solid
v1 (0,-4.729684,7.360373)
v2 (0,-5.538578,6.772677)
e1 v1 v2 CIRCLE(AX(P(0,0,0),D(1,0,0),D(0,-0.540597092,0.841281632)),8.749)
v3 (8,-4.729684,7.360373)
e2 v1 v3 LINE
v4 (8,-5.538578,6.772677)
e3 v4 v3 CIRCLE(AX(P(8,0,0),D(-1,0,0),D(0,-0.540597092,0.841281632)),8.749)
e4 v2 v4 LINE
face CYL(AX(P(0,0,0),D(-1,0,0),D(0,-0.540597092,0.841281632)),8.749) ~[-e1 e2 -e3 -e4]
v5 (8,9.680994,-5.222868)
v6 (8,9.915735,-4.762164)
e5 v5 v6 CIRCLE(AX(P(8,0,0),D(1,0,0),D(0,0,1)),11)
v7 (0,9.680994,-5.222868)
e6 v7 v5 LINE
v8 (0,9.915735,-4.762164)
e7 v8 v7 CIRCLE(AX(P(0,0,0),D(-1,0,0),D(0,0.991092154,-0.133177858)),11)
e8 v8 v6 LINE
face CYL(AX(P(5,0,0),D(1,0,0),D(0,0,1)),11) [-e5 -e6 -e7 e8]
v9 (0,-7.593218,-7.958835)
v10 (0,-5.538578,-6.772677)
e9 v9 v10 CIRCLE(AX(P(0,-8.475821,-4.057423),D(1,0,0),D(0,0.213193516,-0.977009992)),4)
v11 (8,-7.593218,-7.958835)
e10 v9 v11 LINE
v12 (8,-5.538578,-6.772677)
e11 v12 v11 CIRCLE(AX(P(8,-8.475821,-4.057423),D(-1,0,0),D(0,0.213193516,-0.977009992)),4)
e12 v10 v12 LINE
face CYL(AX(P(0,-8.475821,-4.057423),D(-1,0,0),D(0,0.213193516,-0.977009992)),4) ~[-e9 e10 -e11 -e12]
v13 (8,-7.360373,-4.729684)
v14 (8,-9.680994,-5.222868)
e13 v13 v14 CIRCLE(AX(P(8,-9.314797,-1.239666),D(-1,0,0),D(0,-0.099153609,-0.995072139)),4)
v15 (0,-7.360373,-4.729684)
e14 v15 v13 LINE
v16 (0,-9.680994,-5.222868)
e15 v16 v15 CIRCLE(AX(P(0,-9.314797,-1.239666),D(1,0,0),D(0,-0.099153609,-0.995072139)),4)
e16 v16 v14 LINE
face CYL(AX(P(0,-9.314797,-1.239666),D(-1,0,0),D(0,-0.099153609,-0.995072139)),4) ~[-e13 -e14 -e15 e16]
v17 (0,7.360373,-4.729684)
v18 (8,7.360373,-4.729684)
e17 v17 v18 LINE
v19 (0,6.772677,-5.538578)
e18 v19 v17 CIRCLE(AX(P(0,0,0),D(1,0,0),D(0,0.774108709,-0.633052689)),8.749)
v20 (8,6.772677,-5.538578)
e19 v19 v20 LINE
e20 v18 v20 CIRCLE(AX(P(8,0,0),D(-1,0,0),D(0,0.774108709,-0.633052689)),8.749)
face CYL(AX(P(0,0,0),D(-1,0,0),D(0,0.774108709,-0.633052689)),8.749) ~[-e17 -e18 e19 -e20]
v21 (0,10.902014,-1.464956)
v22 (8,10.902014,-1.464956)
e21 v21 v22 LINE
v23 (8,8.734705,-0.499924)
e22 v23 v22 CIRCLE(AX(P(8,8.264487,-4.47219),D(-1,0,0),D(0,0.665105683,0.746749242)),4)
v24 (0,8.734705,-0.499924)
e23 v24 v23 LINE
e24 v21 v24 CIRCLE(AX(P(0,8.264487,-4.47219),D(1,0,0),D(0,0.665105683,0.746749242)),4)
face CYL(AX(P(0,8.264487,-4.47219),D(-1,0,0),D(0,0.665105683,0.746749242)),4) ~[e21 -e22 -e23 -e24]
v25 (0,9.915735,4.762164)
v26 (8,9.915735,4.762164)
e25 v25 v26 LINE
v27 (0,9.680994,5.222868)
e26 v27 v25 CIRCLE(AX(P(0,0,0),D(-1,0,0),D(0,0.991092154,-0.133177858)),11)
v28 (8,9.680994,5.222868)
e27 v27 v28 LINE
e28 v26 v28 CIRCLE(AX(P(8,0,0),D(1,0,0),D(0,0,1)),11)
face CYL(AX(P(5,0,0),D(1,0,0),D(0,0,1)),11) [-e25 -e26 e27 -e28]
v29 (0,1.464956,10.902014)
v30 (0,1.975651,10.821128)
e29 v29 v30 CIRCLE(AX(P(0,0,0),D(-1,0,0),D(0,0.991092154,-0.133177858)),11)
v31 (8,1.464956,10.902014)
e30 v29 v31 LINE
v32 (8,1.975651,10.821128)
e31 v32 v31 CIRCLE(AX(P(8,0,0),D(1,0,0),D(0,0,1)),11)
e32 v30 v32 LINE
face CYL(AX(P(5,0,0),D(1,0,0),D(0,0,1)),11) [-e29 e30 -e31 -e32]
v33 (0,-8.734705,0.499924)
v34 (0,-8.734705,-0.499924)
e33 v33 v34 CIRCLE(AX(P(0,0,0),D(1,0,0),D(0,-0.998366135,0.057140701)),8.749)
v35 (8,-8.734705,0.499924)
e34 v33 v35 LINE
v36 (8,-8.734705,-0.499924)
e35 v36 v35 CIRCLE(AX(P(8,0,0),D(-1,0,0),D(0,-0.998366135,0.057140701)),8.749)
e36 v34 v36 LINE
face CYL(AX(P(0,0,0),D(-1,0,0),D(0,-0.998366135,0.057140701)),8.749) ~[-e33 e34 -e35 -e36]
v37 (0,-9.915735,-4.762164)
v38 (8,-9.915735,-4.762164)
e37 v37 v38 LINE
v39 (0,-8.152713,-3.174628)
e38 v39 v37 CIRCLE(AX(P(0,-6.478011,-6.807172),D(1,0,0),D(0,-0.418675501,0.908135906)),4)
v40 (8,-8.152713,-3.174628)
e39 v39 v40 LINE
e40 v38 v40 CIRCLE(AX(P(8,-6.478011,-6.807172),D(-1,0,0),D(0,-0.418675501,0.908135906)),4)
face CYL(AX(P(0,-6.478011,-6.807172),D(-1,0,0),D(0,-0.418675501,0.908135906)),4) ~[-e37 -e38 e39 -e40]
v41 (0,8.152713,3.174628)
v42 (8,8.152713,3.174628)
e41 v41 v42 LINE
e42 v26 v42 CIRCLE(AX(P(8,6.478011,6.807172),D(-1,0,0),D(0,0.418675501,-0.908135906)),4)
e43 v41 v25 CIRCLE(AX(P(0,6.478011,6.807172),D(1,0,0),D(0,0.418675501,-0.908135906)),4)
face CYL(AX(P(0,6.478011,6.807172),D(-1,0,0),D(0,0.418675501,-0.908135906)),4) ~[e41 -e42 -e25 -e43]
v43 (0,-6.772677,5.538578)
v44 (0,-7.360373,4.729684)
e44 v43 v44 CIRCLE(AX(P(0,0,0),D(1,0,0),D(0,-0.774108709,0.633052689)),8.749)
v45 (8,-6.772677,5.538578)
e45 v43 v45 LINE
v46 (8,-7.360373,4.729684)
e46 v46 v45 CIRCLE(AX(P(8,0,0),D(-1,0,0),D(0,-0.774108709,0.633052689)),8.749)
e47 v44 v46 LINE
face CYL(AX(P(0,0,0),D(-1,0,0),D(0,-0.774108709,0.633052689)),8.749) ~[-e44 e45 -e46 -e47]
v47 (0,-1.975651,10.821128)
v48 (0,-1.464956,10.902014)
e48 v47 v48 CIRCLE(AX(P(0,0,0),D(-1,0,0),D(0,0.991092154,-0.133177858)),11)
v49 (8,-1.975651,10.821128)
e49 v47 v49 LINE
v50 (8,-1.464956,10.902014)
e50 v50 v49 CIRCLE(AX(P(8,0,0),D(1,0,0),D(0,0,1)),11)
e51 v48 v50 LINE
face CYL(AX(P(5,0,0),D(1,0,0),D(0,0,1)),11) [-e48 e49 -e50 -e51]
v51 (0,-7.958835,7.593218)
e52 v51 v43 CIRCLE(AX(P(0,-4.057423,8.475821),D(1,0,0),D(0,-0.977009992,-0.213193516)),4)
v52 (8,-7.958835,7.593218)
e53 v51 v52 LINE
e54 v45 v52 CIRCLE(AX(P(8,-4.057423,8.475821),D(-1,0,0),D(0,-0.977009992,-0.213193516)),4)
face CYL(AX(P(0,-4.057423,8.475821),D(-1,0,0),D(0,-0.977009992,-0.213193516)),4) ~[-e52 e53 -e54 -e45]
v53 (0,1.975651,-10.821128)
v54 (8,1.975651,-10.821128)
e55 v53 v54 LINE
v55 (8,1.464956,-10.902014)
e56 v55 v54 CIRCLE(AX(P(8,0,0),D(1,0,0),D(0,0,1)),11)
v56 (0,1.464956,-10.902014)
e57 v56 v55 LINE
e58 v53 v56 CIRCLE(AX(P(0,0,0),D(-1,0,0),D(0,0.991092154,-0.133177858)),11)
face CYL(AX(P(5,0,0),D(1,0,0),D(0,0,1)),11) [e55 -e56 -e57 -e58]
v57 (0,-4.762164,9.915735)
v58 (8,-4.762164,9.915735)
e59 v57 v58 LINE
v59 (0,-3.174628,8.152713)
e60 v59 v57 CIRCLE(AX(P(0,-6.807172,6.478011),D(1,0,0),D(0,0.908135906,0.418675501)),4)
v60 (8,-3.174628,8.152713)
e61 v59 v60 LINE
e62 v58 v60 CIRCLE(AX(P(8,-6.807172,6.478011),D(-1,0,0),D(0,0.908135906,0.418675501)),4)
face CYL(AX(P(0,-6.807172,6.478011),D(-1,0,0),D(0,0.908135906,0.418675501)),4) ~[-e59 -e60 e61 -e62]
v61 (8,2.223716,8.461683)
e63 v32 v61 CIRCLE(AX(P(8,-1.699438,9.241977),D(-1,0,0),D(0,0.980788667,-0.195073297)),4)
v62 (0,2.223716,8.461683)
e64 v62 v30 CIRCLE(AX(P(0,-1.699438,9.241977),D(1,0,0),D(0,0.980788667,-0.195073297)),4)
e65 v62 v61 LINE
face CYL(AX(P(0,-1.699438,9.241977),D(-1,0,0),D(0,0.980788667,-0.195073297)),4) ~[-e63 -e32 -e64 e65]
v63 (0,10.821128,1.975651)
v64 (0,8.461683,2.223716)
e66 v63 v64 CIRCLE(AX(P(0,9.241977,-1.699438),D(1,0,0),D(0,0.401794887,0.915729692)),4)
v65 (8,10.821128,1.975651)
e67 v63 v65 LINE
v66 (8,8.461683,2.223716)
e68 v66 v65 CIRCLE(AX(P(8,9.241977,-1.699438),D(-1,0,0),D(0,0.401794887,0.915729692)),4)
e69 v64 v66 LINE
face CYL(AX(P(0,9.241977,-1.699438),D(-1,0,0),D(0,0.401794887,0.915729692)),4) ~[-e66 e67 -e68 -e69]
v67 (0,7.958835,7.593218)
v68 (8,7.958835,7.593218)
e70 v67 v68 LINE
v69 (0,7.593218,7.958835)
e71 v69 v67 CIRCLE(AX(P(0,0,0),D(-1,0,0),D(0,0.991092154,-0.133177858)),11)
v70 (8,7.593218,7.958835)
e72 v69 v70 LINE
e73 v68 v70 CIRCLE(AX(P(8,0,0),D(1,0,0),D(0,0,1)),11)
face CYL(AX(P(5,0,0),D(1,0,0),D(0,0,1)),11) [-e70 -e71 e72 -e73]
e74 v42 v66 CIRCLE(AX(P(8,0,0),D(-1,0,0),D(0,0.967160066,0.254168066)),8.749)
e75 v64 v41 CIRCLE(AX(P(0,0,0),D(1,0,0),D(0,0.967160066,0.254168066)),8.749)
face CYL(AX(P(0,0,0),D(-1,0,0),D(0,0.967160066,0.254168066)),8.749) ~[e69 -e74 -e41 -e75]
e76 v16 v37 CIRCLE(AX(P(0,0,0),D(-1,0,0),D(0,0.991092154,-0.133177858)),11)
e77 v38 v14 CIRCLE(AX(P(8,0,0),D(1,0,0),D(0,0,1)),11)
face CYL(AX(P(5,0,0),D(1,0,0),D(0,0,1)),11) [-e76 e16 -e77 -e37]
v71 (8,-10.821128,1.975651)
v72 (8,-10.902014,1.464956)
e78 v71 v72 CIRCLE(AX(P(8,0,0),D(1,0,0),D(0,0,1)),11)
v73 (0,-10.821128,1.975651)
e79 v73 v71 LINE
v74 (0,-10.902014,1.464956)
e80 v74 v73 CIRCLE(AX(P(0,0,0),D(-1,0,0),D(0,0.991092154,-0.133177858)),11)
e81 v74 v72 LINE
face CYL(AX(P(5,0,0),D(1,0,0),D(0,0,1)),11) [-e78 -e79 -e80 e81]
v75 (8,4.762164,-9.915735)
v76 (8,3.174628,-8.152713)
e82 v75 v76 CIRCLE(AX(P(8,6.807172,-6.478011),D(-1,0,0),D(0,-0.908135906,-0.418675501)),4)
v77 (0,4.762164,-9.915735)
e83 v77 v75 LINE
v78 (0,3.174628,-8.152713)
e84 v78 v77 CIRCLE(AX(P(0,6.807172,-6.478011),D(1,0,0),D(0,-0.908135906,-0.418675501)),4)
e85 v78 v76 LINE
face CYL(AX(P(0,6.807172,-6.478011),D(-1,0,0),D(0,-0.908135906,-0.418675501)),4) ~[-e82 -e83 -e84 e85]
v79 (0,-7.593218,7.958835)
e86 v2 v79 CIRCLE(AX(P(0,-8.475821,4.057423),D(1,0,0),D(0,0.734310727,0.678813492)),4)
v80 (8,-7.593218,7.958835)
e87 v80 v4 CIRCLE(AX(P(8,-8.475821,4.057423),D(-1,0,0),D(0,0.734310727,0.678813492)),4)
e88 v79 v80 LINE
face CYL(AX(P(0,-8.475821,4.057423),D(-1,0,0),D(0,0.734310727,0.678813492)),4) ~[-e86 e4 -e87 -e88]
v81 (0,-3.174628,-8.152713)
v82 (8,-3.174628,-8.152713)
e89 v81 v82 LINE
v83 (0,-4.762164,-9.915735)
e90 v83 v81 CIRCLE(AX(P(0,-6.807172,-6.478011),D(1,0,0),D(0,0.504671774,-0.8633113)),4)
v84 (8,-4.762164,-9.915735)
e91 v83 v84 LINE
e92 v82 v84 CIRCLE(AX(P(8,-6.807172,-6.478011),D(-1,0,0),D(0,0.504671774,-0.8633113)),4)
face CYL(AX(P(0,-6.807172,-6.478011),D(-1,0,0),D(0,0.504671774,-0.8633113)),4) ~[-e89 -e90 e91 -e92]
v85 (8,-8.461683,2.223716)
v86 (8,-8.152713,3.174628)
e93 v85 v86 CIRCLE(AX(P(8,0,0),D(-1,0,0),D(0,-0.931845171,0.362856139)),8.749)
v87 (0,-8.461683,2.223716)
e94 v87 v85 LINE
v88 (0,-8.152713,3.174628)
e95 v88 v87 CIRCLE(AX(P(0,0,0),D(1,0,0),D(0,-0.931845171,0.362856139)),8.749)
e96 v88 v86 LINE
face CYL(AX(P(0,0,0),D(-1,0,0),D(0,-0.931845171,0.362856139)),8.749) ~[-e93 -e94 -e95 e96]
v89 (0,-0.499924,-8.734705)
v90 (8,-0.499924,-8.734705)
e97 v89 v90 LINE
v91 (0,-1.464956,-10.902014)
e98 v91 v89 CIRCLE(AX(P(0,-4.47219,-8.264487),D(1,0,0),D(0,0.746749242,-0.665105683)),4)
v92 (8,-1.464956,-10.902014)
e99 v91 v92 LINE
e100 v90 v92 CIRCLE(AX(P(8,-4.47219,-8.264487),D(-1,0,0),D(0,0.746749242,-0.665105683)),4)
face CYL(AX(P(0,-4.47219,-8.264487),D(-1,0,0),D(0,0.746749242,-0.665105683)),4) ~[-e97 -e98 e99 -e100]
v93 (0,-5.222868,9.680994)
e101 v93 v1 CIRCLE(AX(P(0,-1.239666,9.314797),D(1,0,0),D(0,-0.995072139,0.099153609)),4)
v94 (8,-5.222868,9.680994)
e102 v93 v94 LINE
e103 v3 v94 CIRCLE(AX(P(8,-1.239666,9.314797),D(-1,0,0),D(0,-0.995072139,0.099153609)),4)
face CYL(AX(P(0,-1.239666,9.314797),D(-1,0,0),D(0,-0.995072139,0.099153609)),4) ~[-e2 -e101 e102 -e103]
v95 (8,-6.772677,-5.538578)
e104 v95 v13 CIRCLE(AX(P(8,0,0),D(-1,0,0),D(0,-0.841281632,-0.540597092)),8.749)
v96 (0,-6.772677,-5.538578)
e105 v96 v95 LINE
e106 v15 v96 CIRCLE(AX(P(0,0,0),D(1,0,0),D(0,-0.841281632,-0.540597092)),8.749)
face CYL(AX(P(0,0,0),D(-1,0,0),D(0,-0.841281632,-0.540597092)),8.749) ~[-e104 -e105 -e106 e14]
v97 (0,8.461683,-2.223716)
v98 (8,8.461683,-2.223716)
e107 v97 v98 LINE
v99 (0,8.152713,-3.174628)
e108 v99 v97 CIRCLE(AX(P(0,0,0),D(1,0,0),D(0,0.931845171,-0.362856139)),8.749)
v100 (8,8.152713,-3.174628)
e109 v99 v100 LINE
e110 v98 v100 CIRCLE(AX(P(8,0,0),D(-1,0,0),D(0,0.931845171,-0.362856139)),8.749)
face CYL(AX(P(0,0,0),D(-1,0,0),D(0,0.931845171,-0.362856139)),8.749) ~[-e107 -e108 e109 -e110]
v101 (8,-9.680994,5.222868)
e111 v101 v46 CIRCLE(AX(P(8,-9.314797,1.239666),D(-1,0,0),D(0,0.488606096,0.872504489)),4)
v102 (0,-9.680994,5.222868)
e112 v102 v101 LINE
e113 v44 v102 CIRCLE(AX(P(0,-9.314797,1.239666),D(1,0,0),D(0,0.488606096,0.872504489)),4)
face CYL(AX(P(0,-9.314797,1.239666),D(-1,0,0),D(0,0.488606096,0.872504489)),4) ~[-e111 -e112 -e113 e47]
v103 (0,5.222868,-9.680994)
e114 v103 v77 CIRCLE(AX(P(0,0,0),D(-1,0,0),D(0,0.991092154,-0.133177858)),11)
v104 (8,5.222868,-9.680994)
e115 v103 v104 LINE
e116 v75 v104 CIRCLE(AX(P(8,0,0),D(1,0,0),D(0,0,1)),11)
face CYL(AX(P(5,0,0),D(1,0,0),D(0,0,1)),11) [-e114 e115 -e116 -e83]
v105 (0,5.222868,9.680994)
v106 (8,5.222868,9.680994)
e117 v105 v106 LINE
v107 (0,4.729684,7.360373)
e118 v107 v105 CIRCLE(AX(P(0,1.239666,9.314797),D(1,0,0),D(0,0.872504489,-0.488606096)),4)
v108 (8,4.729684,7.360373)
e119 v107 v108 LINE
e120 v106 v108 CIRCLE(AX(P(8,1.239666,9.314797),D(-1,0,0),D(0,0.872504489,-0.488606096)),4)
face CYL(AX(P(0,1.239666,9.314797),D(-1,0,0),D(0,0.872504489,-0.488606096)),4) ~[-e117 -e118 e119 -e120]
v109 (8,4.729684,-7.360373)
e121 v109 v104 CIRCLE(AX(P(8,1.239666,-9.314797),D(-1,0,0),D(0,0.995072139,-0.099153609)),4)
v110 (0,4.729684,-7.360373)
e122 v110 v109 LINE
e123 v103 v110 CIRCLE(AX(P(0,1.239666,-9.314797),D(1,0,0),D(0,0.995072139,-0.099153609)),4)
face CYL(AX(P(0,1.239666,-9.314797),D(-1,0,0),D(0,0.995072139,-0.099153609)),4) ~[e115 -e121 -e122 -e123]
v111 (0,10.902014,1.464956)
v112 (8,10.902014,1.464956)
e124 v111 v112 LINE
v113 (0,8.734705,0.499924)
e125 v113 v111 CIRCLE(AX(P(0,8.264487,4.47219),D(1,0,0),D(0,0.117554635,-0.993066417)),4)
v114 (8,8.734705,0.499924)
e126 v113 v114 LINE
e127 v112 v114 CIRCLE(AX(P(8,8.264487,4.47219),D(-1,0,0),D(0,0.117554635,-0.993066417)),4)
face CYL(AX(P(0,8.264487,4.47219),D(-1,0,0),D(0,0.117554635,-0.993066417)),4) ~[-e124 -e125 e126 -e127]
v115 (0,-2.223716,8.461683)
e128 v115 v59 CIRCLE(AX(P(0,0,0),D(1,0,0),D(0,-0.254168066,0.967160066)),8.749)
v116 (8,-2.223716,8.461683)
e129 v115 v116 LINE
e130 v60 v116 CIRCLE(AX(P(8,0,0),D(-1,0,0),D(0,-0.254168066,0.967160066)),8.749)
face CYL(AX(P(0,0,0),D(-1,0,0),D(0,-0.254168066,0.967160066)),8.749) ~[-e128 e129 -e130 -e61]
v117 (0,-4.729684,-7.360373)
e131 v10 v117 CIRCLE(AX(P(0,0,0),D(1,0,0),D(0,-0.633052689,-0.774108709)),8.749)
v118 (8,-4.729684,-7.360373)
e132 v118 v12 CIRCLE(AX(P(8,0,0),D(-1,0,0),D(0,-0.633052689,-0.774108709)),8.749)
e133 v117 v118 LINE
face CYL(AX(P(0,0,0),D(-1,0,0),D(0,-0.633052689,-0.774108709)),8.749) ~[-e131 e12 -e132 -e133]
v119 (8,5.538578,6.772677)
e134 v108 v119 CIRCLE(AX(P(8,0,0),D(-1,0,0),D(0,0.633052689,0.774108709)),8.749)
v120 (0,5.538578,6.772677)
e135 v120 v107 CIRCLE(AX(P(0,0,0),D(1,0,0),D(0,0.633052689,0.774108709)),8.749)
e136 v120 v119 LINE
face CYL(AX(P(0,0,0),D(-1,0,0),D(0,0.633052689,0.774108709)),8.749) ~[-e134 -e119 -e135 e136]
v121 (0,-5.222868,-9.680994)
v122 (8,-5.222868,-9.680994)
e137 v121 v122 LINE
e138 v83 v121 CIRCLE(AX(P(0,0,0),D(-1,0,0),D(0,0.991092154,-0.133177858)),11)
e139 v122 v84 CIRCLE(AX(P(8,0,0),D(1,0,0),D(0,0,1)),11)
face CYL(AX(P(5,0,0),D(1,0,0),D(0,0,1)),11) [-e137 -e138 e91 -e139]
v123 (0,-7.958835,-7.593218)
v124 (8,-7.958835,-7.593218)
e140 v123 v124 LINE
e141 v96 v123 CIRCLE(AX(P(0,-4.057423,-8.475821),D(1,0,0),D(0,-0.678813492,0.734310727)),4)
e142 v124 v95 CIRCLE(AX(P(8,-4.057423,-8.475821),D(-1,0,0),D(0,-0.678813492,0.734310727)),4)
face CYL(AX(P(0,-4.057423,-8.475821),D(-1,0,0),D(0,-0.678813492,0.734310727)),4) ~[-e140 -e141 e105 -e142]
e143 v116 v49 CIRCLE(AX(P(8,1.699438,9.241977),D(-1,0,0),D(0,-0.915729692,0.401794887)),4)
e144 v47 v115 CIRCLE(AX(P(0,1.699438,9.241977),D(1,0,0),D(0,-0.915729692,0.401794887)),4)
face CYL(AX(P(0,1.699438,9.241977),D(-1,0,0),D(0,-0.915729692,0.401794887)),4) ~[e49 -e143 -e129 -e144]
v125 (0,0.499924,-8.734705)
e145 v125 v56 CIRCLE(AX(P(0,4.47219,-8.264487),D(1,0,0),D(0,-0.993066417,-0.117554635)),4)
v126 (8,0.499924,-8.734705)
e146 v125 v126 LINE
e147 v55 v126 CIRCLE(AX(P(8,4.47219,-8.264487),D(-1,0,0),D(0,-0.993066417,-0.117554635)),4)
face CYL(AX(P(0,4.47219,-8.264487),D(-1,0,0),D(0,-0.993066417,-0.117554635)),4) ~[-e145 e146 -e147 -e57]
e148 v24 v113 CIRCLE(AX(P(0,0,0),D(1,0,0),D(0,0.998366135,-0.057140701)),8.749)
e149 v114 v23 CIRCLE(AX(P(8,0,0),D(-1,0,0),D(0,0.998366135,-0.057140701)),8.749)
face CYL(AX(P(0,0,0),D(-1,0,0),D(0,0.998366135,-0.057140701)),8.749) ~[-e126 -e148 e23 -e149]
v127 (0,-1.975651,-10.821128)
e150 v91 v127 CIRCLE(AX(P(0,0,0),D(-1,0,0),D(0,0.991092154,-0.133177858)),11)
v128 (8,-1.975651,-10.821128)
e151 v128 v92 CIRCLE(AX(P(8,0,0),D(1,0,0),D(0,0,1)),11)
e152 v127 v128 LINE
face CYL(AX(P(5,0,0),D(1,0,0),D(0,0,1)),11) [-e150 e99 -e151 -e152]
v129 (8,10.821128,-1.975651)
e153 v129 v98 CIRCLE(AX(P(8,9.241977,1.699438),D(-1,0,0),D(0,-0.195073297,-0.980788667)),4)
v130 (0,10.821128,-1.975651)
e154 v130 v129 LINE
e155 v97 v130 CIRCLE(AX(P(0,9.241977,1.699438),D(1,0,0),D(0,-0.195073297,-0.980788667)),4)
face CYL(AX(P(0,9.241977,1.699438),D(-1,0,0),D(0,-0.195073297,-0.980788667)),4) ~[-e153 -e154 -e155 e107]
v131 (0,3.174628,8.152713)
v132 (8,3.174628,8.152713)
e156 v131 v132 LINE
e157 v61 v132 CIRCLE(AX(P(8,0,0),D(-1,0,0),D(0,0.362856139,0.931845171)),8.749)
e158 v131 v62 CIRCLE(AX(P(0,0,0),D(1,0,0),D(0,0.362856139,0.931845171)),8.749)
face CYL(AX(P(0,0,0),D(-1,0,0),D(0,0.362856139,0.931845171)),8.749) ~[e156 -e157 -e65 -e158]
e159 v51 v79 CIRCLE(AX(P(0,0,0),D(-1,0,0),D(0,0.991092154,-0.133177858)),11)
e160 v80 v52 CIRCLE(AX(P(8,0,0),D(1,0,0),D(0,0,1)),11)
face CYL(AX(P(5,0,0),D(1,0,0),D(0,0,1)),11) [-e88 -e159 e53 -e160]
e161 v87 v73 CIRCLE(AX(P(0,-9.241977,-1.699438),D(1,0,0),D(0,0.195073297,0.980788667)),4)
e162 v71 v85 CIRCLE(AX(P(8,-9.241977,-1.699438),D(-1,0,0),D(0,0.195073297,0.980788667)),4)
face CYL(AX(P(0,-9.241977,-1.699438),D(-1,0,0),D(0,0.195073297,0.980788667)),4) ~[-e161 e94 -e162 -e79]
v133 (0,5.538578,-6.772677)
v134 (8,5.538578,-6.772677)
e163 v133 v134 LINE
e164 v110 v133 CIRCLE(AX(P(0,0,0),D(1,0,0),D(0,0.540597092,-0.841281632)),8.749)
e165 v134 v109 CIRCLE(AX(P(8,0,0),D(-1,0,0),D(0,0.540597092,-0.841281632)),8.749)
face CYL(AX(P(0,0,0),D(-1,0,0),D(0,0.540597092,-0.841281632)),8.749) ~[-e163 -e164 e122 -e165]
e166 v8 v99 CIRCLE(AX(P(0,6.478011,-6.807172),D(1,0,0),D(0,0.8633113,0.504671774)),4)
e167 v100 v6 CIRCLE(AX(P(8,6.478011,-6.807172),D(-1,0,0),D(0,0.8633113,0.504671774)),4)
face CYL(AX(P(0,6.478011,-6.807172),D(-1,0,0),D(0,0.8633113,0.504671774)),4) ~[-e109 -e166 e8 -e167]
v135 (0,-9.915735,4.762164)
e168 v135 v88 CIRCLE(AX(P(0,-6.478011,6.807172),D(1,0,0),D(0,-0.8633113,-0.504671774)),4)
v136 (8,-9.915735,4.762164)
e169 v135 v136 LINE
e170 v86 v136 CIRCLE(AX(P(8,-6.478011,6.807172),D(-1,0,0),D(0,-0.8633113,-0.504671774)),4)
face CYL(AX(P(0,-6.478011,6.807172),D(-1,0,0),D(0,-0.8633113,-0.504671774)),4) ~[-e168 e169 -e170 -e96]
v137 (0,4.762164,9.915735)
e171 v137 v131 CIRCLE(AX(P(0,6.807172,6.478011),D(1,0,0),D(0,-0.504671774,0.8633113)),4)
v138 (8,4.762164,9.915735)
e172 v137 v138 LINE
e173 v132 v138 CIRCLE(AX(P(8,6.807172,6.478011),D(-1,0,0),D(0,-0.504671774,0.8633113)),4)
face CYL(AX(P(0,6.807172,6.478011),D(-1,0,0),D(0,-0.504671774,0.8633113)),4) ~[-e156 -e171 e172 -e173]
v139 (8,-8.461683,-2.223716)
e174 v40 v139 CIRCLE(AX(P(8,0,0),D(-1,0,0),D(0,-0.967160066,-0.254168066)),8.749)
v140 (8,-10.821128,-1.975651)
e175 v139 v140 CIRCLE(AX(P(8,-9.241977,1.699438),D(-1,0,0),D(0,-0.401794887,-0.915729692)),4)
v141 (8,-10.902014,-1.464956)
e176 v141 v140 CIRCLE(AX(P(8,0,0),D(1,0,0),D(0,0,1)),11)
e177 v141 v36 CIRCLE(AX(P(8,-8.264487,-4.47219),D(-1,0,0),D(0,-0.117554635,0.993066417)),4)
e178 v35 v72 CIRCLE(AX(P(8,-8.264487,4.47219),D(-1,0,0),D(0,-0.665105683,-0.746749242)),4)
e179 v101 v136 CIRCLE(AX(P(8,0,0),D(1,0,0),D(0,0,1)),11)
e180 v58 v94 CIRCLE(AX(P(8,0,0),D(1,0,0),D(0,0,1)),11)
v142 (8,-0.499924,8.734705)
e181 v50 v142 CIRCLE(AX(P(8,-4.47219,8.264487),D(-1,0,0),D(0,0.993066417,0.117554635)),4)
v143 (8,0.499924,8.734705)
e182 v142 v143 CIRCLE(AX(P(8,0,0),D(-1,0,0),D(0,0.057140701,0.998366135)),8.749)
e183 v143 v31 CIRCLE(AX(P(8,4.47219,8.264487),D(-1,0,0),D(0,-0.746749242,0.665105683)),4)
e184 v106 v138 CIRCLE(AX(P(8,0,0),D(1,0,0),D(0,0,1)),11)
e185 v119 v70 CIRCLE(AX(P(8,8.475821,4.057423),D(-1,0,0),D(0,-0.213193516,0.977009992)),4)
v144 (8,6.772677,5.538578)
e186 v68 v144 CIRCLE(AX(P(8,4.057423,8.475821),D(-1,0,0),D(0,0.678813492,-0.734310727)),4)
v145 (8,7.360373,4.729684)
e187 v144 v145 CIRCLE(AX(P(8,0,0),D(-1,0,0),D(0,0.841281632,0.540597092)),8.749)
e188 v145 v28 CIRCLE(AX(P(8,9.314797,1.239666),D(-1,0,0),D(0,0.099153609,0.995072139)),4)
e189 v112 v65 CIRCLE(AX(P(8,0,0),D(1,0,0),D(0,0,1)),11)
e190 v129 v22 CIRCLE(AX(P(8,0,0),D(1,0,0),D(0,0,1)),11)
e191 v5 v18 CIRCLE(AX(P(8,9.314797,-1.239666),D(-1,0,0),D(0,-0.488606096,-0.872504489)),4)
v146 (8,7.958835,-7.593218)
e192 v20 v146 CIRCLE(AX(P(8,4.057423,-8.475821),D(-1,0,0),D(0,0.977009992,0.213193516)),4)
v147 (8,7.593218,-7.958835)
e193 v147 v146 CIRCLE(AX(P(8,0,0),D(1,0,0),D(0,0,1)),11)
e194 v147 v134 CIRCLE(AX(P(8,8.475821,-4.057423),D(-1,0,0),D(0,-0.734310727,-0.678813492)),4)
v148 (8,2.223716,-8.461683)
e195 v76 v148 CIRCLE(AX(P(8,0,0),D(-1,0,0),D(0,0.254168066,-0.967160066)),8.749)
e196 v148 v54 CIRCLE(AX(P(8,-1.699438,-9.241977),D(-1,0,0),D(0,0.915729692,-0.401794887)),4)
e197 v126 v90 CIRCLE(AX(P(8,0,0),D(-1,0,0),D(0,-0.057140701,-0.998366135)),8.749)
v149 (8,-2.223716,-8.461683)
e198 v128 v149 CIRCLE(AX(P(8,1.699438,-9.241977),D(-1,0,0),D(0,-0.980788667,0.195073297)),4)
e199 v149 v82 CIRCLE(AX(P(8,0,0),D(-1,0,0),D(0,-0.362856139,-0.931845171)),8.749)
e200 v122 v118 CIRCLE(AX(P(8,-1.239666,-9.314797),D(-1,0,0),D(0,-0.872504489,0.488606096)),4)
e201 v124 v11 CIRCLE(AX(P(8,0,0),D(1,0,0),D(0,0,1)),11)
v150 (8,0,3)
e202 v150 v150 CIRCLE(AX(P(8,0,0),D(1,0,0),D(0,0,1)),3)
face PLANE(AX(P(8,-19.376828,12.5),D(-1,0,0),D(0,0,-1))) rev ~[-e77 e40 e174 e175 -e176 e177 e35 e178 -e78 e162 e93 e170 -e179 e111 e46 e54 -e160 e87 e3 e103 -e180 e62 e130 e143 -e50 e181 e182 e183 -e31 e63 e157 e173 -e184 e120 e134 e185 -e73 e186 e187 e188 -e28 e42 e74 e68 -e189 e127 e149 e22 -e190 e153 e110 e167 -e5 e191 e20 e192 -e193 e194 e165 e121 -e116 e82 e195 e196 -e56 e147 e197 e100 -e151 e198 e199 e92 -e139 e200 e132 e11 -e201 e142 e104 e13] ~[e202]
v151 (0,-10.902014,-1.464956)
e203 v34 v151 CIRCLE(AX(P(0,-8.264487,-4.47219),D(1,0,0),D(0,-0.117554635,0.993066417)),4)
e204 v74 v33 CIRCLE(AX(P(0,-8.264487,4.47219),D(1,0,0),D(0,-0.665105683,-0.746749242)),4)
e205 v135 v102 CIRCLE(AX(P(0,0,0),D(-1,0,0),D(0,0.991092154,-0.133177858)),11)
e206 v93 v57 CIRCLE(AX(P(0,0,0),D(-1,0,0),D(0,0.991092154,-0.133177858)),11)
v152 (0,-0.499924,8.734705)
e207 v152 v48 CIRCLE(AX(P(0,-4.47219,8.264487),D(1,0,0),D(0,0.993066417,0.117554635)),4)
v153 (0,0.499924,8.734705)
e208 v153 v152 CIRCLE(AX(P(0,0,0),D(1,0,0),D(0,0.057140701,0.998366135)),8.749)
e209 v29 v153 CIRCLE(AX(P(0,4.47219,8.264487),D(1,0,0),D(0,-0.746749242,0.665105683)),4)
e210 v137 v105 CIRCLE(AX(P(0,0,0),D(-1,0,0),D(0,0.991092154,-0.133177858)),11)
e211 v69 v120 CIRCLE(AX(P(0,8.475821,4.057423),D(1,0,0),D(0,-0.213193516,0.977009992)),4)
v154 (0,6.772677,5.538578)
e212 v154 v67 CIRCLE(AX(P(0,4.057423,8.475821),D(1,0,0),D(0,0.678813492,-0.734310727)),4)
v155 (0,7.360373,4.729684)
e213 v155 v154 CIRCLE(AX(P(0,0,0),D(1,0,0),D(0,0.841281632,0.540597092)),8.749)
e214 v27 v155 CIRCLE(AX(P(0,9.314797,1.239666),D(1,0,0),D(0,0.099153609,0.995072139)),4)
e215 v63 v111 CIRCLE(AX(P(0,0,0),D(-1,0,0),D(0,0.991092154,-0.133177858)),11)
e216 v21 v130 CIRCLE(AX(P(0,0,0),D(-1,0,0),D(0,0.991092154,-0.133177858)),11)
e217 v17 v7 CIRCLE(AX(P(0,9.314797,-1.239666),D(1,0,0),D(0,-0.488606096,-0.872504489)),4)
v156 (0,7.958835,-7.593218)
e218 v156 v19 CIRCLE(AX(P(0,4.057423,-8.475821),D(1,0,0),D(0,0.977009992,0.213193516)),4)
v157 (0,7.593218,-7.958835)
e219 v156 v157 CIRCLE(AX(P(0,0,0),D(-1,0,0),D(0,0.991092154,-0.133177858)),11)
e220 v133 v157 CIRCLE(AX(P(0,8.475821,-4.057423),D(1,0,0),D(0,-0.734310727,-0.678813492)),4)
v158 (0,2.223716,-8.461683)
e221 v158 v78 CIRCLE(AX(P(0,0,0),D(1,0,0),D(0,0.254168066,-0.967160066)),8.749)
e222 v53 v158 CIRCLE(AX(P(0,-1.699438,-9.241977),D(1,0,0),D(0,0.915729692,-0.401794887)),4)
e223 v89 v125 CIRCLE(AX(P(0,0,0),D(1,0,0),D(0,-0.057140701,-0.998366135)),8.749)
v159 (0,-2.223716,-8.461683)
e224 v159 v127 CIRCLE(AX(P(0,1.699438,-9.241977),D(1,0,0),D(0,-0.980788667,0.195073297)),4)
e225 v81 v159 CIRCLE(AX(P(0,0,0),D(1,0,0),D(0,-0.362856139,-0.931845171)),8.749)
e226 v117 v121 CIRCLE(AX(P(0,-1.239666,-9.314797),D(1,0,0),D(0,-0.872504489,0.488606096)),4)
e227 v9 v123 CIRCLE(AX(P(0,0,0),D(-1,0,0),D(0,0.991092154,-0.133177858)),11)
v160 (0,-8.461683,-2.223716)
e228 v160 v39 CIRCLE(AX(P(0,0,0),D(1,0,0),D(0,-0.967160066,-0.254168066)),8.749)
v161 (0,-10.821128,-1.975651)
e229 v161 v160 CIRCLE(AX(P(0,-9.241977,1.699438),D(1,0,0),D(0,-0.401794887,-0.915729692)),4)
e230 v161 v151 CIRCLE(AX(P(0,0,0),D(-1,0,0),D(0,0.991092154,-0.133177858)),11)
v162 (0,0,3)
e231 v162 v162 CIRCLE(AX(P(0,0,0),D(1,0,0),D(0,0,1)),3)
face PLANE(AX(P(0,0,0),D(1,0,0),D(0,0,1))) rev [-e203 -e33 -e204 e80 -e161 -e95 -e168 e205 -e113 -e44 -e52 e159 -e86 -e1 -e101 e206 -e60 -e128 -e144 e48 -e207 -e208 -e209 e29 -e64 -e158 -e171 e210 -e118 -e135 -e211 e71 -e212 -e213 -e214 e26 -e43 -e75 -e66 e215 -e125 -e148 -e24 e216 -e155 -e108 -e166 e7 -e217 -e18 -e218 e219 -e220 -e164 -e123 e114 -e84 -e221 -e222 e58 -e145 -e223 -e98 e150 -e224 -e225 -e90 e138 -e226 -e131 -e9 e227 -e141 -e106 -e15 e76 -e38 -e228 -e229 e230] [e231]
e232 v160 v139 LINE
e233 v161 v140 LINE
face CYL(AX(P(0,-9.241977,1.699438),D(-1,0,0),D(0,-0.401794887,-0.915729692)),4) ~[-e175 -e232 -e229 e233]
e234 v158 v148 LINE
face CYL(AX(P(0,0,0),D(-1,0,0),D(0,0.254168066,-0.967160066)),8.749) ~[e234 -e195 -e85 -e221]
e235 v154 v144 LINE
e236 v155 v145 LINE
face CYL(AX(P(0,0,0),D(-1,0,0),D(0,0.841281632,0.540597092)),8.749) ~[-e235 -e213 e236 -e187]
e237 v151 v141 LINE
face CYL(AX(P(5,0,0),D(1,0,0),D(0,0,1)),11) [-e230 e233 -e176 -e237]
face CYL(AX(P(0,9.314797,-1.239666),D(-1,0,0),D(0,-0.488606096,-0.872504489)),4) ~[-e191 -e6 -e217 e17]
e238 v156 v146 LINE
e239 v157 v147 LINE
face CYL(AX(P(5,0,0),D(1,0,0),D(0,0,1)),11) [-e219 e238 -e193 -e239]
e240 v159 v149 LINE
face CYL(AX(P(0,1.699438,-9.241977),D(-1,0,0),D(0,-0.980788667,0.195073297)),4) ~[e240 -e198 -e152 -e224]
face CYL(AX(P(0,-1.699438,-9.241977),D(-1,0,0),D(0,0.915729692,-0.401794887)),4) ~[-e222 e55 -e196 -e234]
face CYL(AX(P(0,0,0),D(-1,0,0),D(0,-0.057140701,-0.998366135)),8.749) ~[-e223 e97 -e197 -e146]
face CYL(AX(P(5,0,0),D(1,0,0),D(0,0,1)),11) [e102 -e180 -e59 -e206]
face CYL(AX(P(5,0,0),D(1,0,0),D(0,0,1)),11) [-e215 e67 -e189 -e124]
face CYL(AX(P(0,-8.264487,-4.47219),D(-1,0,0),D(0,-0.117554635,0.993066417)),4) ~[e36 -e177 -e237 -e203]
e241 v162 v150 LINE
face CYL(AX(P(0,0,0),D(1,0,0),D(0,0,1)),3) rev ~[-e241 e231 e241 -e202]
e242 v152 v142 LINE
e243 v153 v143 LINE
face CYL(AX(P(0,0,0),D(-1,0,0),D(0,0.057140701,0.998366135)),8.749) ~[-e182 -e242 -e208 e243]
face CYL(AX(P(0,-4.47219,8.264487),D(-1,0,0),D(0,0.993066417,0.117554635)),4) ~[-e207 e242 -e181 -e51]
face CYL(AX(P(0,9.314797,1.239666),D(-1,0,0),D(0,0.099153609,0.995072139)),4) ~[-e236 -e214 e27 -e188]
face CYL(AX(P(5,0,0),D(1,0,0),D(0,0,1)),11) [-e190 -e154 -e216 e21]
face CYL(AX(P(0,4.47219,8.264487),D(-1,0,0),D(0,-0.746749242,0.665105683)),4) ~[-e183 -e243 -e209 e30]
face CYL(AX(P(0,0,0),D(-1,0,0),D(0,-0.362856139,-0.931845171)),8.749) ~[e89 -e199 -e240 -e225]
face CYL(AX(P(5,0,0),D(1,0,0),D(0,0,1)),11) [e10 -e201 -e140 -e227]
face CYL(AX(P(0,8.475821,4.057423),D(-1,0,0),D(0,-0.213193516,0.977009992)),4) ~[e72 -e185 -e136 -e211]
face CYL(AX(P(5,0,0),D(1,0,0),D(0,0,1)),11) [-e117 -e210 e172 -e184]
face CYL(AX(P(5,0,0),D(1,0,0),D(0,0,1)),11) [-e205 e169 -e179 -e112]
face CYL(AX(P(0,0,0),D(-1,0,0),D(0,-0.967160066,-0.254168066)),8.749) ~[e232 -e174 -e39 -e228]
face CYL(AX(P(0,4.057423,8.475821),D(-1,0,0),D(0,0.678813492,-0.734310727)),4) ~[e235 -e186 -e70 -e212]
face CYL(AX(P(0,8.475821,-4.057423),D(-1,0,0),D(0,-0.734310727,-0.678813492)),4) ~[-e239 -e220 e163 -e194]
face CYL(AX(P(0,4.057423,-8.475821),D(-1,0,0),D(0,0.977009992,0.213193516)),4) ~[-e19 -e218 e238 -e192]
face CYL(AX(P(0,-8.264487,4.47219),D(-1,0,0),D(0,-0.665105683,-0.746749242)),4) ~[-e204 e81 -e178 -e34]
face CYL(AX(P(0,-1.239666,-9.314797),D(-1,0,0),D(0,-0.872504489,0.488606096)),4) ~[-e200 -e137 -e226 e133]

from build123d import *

# Parameters (mm, degrees)
BASPROSKE_W             = 10
BASPROSKE_H             = 11
TOOTHCUT_DEPTH          = 19.493242009
TEETHCUTS_COUNT         = 20
TEETHCUTS_ANGLE         = 342
BORSKE_R                = 3
BORE_DEPTH              = 50.0000508
CUT_EXTRUDE1_DEPTH      = 19.376827944
CUT_EXTRUDE1_DEPTH_BACK = 19.376827944
SKETCH1_W               = 4
SKETCH1_H               = 25


with BuildPart() as part:
    # BasProSke → Base-Revolve (revolve)
    with BuildSketch(Plane(origin=(0, 0, 0), x_dir=(1, 0, 0), z_dir=(0, 1, 0)), mode=Mode.PRIVATE) as base_revolve_sk:
        with Locations((5, 5.5)):
            Rectangle(BASPROSKE_W, BASPROSKE_H)
    revolve(base_revolve_sk.sketch.rotate(Axis((-10, 0, 0), (1, 0, 0)), 180), axis=Axis((-10, 0, 0), (1, 0, 0)))

    # TooCutSke → ToothCut (cut, through all)
    with BuildSketch(Plane(origin=(0, 0, 0), x_dir=(0, 0, -1), z_dir=(1, 0, 0))):
        with BuildLine():
            ThreePointArc((0.499924007, 8.734705318), (0, 8.749), (-0.499924007, 8.734705318))
            ThreePointArc((-0.499924007, 8.734705318), (-0.824302243, 9.905497836), (-1.485192705, 10.924909509))
            ThreePointArc((-1.485192705, 10.924909509), (0, 11.0254), (1.485192705, 10.924909509))
            ThreePointArc((1.485192705, 10.924909509), (0.824302243, 9.905497836), (0.499924007, 8.734705318))
        make_face()
    toothcut = extrude(amount=TOOTHCUT_DEPTH, mode=Mode.SUBTRACT)

    # TeethCuts: ToothCut ×20 about axis
    teethcuts_axis = Axis((-10, 0, 0), (1, 0, 0))
    for i in range(1, TEETHCUTS_COUNT):
        add(toothcut.rotate(teethcuts_axis, i * TEETHCUTS_ANGLE / (TEETHCUTS_COUNT - 1)), mode=Mode.SUBTRACT)

    # BorSke → Bore (cut, symmetric)
    with BuildSketch(Plane(origin=(0, 0, 0), x_dir=(0, 0, -1), z_dir=(1, 0, 0))):
        with Locations(Location((0, 0, 0), (0, 0, 180))):
            Circle(BORSKE_R)
    extrude(amount=BORE_DEPTH, both=True, mode=Mode.SUBTRACT)

    # Sketch1 → Cut-Extrude1 (cut, two sides: drawn at the far end of the back side and taken through both)
    with BuildSketch(Plane(origin=(0, 0, 0), x_dir=(1, 0, 0), z_dir=(0, 1, 0)).offset(-CUT_EXTRUDE1_DEPTH_BACK)):
        with Locations((10, 0)):
            Rectangle(SKETCH1_W, SKETCH1_H)
    extrude(amount=CUT_EXTRUDE1_DEPTH + CUT_EXTRUDE1_DEPTH_BACK, mode=Mode.SUBTRACT)


solid = part.part
